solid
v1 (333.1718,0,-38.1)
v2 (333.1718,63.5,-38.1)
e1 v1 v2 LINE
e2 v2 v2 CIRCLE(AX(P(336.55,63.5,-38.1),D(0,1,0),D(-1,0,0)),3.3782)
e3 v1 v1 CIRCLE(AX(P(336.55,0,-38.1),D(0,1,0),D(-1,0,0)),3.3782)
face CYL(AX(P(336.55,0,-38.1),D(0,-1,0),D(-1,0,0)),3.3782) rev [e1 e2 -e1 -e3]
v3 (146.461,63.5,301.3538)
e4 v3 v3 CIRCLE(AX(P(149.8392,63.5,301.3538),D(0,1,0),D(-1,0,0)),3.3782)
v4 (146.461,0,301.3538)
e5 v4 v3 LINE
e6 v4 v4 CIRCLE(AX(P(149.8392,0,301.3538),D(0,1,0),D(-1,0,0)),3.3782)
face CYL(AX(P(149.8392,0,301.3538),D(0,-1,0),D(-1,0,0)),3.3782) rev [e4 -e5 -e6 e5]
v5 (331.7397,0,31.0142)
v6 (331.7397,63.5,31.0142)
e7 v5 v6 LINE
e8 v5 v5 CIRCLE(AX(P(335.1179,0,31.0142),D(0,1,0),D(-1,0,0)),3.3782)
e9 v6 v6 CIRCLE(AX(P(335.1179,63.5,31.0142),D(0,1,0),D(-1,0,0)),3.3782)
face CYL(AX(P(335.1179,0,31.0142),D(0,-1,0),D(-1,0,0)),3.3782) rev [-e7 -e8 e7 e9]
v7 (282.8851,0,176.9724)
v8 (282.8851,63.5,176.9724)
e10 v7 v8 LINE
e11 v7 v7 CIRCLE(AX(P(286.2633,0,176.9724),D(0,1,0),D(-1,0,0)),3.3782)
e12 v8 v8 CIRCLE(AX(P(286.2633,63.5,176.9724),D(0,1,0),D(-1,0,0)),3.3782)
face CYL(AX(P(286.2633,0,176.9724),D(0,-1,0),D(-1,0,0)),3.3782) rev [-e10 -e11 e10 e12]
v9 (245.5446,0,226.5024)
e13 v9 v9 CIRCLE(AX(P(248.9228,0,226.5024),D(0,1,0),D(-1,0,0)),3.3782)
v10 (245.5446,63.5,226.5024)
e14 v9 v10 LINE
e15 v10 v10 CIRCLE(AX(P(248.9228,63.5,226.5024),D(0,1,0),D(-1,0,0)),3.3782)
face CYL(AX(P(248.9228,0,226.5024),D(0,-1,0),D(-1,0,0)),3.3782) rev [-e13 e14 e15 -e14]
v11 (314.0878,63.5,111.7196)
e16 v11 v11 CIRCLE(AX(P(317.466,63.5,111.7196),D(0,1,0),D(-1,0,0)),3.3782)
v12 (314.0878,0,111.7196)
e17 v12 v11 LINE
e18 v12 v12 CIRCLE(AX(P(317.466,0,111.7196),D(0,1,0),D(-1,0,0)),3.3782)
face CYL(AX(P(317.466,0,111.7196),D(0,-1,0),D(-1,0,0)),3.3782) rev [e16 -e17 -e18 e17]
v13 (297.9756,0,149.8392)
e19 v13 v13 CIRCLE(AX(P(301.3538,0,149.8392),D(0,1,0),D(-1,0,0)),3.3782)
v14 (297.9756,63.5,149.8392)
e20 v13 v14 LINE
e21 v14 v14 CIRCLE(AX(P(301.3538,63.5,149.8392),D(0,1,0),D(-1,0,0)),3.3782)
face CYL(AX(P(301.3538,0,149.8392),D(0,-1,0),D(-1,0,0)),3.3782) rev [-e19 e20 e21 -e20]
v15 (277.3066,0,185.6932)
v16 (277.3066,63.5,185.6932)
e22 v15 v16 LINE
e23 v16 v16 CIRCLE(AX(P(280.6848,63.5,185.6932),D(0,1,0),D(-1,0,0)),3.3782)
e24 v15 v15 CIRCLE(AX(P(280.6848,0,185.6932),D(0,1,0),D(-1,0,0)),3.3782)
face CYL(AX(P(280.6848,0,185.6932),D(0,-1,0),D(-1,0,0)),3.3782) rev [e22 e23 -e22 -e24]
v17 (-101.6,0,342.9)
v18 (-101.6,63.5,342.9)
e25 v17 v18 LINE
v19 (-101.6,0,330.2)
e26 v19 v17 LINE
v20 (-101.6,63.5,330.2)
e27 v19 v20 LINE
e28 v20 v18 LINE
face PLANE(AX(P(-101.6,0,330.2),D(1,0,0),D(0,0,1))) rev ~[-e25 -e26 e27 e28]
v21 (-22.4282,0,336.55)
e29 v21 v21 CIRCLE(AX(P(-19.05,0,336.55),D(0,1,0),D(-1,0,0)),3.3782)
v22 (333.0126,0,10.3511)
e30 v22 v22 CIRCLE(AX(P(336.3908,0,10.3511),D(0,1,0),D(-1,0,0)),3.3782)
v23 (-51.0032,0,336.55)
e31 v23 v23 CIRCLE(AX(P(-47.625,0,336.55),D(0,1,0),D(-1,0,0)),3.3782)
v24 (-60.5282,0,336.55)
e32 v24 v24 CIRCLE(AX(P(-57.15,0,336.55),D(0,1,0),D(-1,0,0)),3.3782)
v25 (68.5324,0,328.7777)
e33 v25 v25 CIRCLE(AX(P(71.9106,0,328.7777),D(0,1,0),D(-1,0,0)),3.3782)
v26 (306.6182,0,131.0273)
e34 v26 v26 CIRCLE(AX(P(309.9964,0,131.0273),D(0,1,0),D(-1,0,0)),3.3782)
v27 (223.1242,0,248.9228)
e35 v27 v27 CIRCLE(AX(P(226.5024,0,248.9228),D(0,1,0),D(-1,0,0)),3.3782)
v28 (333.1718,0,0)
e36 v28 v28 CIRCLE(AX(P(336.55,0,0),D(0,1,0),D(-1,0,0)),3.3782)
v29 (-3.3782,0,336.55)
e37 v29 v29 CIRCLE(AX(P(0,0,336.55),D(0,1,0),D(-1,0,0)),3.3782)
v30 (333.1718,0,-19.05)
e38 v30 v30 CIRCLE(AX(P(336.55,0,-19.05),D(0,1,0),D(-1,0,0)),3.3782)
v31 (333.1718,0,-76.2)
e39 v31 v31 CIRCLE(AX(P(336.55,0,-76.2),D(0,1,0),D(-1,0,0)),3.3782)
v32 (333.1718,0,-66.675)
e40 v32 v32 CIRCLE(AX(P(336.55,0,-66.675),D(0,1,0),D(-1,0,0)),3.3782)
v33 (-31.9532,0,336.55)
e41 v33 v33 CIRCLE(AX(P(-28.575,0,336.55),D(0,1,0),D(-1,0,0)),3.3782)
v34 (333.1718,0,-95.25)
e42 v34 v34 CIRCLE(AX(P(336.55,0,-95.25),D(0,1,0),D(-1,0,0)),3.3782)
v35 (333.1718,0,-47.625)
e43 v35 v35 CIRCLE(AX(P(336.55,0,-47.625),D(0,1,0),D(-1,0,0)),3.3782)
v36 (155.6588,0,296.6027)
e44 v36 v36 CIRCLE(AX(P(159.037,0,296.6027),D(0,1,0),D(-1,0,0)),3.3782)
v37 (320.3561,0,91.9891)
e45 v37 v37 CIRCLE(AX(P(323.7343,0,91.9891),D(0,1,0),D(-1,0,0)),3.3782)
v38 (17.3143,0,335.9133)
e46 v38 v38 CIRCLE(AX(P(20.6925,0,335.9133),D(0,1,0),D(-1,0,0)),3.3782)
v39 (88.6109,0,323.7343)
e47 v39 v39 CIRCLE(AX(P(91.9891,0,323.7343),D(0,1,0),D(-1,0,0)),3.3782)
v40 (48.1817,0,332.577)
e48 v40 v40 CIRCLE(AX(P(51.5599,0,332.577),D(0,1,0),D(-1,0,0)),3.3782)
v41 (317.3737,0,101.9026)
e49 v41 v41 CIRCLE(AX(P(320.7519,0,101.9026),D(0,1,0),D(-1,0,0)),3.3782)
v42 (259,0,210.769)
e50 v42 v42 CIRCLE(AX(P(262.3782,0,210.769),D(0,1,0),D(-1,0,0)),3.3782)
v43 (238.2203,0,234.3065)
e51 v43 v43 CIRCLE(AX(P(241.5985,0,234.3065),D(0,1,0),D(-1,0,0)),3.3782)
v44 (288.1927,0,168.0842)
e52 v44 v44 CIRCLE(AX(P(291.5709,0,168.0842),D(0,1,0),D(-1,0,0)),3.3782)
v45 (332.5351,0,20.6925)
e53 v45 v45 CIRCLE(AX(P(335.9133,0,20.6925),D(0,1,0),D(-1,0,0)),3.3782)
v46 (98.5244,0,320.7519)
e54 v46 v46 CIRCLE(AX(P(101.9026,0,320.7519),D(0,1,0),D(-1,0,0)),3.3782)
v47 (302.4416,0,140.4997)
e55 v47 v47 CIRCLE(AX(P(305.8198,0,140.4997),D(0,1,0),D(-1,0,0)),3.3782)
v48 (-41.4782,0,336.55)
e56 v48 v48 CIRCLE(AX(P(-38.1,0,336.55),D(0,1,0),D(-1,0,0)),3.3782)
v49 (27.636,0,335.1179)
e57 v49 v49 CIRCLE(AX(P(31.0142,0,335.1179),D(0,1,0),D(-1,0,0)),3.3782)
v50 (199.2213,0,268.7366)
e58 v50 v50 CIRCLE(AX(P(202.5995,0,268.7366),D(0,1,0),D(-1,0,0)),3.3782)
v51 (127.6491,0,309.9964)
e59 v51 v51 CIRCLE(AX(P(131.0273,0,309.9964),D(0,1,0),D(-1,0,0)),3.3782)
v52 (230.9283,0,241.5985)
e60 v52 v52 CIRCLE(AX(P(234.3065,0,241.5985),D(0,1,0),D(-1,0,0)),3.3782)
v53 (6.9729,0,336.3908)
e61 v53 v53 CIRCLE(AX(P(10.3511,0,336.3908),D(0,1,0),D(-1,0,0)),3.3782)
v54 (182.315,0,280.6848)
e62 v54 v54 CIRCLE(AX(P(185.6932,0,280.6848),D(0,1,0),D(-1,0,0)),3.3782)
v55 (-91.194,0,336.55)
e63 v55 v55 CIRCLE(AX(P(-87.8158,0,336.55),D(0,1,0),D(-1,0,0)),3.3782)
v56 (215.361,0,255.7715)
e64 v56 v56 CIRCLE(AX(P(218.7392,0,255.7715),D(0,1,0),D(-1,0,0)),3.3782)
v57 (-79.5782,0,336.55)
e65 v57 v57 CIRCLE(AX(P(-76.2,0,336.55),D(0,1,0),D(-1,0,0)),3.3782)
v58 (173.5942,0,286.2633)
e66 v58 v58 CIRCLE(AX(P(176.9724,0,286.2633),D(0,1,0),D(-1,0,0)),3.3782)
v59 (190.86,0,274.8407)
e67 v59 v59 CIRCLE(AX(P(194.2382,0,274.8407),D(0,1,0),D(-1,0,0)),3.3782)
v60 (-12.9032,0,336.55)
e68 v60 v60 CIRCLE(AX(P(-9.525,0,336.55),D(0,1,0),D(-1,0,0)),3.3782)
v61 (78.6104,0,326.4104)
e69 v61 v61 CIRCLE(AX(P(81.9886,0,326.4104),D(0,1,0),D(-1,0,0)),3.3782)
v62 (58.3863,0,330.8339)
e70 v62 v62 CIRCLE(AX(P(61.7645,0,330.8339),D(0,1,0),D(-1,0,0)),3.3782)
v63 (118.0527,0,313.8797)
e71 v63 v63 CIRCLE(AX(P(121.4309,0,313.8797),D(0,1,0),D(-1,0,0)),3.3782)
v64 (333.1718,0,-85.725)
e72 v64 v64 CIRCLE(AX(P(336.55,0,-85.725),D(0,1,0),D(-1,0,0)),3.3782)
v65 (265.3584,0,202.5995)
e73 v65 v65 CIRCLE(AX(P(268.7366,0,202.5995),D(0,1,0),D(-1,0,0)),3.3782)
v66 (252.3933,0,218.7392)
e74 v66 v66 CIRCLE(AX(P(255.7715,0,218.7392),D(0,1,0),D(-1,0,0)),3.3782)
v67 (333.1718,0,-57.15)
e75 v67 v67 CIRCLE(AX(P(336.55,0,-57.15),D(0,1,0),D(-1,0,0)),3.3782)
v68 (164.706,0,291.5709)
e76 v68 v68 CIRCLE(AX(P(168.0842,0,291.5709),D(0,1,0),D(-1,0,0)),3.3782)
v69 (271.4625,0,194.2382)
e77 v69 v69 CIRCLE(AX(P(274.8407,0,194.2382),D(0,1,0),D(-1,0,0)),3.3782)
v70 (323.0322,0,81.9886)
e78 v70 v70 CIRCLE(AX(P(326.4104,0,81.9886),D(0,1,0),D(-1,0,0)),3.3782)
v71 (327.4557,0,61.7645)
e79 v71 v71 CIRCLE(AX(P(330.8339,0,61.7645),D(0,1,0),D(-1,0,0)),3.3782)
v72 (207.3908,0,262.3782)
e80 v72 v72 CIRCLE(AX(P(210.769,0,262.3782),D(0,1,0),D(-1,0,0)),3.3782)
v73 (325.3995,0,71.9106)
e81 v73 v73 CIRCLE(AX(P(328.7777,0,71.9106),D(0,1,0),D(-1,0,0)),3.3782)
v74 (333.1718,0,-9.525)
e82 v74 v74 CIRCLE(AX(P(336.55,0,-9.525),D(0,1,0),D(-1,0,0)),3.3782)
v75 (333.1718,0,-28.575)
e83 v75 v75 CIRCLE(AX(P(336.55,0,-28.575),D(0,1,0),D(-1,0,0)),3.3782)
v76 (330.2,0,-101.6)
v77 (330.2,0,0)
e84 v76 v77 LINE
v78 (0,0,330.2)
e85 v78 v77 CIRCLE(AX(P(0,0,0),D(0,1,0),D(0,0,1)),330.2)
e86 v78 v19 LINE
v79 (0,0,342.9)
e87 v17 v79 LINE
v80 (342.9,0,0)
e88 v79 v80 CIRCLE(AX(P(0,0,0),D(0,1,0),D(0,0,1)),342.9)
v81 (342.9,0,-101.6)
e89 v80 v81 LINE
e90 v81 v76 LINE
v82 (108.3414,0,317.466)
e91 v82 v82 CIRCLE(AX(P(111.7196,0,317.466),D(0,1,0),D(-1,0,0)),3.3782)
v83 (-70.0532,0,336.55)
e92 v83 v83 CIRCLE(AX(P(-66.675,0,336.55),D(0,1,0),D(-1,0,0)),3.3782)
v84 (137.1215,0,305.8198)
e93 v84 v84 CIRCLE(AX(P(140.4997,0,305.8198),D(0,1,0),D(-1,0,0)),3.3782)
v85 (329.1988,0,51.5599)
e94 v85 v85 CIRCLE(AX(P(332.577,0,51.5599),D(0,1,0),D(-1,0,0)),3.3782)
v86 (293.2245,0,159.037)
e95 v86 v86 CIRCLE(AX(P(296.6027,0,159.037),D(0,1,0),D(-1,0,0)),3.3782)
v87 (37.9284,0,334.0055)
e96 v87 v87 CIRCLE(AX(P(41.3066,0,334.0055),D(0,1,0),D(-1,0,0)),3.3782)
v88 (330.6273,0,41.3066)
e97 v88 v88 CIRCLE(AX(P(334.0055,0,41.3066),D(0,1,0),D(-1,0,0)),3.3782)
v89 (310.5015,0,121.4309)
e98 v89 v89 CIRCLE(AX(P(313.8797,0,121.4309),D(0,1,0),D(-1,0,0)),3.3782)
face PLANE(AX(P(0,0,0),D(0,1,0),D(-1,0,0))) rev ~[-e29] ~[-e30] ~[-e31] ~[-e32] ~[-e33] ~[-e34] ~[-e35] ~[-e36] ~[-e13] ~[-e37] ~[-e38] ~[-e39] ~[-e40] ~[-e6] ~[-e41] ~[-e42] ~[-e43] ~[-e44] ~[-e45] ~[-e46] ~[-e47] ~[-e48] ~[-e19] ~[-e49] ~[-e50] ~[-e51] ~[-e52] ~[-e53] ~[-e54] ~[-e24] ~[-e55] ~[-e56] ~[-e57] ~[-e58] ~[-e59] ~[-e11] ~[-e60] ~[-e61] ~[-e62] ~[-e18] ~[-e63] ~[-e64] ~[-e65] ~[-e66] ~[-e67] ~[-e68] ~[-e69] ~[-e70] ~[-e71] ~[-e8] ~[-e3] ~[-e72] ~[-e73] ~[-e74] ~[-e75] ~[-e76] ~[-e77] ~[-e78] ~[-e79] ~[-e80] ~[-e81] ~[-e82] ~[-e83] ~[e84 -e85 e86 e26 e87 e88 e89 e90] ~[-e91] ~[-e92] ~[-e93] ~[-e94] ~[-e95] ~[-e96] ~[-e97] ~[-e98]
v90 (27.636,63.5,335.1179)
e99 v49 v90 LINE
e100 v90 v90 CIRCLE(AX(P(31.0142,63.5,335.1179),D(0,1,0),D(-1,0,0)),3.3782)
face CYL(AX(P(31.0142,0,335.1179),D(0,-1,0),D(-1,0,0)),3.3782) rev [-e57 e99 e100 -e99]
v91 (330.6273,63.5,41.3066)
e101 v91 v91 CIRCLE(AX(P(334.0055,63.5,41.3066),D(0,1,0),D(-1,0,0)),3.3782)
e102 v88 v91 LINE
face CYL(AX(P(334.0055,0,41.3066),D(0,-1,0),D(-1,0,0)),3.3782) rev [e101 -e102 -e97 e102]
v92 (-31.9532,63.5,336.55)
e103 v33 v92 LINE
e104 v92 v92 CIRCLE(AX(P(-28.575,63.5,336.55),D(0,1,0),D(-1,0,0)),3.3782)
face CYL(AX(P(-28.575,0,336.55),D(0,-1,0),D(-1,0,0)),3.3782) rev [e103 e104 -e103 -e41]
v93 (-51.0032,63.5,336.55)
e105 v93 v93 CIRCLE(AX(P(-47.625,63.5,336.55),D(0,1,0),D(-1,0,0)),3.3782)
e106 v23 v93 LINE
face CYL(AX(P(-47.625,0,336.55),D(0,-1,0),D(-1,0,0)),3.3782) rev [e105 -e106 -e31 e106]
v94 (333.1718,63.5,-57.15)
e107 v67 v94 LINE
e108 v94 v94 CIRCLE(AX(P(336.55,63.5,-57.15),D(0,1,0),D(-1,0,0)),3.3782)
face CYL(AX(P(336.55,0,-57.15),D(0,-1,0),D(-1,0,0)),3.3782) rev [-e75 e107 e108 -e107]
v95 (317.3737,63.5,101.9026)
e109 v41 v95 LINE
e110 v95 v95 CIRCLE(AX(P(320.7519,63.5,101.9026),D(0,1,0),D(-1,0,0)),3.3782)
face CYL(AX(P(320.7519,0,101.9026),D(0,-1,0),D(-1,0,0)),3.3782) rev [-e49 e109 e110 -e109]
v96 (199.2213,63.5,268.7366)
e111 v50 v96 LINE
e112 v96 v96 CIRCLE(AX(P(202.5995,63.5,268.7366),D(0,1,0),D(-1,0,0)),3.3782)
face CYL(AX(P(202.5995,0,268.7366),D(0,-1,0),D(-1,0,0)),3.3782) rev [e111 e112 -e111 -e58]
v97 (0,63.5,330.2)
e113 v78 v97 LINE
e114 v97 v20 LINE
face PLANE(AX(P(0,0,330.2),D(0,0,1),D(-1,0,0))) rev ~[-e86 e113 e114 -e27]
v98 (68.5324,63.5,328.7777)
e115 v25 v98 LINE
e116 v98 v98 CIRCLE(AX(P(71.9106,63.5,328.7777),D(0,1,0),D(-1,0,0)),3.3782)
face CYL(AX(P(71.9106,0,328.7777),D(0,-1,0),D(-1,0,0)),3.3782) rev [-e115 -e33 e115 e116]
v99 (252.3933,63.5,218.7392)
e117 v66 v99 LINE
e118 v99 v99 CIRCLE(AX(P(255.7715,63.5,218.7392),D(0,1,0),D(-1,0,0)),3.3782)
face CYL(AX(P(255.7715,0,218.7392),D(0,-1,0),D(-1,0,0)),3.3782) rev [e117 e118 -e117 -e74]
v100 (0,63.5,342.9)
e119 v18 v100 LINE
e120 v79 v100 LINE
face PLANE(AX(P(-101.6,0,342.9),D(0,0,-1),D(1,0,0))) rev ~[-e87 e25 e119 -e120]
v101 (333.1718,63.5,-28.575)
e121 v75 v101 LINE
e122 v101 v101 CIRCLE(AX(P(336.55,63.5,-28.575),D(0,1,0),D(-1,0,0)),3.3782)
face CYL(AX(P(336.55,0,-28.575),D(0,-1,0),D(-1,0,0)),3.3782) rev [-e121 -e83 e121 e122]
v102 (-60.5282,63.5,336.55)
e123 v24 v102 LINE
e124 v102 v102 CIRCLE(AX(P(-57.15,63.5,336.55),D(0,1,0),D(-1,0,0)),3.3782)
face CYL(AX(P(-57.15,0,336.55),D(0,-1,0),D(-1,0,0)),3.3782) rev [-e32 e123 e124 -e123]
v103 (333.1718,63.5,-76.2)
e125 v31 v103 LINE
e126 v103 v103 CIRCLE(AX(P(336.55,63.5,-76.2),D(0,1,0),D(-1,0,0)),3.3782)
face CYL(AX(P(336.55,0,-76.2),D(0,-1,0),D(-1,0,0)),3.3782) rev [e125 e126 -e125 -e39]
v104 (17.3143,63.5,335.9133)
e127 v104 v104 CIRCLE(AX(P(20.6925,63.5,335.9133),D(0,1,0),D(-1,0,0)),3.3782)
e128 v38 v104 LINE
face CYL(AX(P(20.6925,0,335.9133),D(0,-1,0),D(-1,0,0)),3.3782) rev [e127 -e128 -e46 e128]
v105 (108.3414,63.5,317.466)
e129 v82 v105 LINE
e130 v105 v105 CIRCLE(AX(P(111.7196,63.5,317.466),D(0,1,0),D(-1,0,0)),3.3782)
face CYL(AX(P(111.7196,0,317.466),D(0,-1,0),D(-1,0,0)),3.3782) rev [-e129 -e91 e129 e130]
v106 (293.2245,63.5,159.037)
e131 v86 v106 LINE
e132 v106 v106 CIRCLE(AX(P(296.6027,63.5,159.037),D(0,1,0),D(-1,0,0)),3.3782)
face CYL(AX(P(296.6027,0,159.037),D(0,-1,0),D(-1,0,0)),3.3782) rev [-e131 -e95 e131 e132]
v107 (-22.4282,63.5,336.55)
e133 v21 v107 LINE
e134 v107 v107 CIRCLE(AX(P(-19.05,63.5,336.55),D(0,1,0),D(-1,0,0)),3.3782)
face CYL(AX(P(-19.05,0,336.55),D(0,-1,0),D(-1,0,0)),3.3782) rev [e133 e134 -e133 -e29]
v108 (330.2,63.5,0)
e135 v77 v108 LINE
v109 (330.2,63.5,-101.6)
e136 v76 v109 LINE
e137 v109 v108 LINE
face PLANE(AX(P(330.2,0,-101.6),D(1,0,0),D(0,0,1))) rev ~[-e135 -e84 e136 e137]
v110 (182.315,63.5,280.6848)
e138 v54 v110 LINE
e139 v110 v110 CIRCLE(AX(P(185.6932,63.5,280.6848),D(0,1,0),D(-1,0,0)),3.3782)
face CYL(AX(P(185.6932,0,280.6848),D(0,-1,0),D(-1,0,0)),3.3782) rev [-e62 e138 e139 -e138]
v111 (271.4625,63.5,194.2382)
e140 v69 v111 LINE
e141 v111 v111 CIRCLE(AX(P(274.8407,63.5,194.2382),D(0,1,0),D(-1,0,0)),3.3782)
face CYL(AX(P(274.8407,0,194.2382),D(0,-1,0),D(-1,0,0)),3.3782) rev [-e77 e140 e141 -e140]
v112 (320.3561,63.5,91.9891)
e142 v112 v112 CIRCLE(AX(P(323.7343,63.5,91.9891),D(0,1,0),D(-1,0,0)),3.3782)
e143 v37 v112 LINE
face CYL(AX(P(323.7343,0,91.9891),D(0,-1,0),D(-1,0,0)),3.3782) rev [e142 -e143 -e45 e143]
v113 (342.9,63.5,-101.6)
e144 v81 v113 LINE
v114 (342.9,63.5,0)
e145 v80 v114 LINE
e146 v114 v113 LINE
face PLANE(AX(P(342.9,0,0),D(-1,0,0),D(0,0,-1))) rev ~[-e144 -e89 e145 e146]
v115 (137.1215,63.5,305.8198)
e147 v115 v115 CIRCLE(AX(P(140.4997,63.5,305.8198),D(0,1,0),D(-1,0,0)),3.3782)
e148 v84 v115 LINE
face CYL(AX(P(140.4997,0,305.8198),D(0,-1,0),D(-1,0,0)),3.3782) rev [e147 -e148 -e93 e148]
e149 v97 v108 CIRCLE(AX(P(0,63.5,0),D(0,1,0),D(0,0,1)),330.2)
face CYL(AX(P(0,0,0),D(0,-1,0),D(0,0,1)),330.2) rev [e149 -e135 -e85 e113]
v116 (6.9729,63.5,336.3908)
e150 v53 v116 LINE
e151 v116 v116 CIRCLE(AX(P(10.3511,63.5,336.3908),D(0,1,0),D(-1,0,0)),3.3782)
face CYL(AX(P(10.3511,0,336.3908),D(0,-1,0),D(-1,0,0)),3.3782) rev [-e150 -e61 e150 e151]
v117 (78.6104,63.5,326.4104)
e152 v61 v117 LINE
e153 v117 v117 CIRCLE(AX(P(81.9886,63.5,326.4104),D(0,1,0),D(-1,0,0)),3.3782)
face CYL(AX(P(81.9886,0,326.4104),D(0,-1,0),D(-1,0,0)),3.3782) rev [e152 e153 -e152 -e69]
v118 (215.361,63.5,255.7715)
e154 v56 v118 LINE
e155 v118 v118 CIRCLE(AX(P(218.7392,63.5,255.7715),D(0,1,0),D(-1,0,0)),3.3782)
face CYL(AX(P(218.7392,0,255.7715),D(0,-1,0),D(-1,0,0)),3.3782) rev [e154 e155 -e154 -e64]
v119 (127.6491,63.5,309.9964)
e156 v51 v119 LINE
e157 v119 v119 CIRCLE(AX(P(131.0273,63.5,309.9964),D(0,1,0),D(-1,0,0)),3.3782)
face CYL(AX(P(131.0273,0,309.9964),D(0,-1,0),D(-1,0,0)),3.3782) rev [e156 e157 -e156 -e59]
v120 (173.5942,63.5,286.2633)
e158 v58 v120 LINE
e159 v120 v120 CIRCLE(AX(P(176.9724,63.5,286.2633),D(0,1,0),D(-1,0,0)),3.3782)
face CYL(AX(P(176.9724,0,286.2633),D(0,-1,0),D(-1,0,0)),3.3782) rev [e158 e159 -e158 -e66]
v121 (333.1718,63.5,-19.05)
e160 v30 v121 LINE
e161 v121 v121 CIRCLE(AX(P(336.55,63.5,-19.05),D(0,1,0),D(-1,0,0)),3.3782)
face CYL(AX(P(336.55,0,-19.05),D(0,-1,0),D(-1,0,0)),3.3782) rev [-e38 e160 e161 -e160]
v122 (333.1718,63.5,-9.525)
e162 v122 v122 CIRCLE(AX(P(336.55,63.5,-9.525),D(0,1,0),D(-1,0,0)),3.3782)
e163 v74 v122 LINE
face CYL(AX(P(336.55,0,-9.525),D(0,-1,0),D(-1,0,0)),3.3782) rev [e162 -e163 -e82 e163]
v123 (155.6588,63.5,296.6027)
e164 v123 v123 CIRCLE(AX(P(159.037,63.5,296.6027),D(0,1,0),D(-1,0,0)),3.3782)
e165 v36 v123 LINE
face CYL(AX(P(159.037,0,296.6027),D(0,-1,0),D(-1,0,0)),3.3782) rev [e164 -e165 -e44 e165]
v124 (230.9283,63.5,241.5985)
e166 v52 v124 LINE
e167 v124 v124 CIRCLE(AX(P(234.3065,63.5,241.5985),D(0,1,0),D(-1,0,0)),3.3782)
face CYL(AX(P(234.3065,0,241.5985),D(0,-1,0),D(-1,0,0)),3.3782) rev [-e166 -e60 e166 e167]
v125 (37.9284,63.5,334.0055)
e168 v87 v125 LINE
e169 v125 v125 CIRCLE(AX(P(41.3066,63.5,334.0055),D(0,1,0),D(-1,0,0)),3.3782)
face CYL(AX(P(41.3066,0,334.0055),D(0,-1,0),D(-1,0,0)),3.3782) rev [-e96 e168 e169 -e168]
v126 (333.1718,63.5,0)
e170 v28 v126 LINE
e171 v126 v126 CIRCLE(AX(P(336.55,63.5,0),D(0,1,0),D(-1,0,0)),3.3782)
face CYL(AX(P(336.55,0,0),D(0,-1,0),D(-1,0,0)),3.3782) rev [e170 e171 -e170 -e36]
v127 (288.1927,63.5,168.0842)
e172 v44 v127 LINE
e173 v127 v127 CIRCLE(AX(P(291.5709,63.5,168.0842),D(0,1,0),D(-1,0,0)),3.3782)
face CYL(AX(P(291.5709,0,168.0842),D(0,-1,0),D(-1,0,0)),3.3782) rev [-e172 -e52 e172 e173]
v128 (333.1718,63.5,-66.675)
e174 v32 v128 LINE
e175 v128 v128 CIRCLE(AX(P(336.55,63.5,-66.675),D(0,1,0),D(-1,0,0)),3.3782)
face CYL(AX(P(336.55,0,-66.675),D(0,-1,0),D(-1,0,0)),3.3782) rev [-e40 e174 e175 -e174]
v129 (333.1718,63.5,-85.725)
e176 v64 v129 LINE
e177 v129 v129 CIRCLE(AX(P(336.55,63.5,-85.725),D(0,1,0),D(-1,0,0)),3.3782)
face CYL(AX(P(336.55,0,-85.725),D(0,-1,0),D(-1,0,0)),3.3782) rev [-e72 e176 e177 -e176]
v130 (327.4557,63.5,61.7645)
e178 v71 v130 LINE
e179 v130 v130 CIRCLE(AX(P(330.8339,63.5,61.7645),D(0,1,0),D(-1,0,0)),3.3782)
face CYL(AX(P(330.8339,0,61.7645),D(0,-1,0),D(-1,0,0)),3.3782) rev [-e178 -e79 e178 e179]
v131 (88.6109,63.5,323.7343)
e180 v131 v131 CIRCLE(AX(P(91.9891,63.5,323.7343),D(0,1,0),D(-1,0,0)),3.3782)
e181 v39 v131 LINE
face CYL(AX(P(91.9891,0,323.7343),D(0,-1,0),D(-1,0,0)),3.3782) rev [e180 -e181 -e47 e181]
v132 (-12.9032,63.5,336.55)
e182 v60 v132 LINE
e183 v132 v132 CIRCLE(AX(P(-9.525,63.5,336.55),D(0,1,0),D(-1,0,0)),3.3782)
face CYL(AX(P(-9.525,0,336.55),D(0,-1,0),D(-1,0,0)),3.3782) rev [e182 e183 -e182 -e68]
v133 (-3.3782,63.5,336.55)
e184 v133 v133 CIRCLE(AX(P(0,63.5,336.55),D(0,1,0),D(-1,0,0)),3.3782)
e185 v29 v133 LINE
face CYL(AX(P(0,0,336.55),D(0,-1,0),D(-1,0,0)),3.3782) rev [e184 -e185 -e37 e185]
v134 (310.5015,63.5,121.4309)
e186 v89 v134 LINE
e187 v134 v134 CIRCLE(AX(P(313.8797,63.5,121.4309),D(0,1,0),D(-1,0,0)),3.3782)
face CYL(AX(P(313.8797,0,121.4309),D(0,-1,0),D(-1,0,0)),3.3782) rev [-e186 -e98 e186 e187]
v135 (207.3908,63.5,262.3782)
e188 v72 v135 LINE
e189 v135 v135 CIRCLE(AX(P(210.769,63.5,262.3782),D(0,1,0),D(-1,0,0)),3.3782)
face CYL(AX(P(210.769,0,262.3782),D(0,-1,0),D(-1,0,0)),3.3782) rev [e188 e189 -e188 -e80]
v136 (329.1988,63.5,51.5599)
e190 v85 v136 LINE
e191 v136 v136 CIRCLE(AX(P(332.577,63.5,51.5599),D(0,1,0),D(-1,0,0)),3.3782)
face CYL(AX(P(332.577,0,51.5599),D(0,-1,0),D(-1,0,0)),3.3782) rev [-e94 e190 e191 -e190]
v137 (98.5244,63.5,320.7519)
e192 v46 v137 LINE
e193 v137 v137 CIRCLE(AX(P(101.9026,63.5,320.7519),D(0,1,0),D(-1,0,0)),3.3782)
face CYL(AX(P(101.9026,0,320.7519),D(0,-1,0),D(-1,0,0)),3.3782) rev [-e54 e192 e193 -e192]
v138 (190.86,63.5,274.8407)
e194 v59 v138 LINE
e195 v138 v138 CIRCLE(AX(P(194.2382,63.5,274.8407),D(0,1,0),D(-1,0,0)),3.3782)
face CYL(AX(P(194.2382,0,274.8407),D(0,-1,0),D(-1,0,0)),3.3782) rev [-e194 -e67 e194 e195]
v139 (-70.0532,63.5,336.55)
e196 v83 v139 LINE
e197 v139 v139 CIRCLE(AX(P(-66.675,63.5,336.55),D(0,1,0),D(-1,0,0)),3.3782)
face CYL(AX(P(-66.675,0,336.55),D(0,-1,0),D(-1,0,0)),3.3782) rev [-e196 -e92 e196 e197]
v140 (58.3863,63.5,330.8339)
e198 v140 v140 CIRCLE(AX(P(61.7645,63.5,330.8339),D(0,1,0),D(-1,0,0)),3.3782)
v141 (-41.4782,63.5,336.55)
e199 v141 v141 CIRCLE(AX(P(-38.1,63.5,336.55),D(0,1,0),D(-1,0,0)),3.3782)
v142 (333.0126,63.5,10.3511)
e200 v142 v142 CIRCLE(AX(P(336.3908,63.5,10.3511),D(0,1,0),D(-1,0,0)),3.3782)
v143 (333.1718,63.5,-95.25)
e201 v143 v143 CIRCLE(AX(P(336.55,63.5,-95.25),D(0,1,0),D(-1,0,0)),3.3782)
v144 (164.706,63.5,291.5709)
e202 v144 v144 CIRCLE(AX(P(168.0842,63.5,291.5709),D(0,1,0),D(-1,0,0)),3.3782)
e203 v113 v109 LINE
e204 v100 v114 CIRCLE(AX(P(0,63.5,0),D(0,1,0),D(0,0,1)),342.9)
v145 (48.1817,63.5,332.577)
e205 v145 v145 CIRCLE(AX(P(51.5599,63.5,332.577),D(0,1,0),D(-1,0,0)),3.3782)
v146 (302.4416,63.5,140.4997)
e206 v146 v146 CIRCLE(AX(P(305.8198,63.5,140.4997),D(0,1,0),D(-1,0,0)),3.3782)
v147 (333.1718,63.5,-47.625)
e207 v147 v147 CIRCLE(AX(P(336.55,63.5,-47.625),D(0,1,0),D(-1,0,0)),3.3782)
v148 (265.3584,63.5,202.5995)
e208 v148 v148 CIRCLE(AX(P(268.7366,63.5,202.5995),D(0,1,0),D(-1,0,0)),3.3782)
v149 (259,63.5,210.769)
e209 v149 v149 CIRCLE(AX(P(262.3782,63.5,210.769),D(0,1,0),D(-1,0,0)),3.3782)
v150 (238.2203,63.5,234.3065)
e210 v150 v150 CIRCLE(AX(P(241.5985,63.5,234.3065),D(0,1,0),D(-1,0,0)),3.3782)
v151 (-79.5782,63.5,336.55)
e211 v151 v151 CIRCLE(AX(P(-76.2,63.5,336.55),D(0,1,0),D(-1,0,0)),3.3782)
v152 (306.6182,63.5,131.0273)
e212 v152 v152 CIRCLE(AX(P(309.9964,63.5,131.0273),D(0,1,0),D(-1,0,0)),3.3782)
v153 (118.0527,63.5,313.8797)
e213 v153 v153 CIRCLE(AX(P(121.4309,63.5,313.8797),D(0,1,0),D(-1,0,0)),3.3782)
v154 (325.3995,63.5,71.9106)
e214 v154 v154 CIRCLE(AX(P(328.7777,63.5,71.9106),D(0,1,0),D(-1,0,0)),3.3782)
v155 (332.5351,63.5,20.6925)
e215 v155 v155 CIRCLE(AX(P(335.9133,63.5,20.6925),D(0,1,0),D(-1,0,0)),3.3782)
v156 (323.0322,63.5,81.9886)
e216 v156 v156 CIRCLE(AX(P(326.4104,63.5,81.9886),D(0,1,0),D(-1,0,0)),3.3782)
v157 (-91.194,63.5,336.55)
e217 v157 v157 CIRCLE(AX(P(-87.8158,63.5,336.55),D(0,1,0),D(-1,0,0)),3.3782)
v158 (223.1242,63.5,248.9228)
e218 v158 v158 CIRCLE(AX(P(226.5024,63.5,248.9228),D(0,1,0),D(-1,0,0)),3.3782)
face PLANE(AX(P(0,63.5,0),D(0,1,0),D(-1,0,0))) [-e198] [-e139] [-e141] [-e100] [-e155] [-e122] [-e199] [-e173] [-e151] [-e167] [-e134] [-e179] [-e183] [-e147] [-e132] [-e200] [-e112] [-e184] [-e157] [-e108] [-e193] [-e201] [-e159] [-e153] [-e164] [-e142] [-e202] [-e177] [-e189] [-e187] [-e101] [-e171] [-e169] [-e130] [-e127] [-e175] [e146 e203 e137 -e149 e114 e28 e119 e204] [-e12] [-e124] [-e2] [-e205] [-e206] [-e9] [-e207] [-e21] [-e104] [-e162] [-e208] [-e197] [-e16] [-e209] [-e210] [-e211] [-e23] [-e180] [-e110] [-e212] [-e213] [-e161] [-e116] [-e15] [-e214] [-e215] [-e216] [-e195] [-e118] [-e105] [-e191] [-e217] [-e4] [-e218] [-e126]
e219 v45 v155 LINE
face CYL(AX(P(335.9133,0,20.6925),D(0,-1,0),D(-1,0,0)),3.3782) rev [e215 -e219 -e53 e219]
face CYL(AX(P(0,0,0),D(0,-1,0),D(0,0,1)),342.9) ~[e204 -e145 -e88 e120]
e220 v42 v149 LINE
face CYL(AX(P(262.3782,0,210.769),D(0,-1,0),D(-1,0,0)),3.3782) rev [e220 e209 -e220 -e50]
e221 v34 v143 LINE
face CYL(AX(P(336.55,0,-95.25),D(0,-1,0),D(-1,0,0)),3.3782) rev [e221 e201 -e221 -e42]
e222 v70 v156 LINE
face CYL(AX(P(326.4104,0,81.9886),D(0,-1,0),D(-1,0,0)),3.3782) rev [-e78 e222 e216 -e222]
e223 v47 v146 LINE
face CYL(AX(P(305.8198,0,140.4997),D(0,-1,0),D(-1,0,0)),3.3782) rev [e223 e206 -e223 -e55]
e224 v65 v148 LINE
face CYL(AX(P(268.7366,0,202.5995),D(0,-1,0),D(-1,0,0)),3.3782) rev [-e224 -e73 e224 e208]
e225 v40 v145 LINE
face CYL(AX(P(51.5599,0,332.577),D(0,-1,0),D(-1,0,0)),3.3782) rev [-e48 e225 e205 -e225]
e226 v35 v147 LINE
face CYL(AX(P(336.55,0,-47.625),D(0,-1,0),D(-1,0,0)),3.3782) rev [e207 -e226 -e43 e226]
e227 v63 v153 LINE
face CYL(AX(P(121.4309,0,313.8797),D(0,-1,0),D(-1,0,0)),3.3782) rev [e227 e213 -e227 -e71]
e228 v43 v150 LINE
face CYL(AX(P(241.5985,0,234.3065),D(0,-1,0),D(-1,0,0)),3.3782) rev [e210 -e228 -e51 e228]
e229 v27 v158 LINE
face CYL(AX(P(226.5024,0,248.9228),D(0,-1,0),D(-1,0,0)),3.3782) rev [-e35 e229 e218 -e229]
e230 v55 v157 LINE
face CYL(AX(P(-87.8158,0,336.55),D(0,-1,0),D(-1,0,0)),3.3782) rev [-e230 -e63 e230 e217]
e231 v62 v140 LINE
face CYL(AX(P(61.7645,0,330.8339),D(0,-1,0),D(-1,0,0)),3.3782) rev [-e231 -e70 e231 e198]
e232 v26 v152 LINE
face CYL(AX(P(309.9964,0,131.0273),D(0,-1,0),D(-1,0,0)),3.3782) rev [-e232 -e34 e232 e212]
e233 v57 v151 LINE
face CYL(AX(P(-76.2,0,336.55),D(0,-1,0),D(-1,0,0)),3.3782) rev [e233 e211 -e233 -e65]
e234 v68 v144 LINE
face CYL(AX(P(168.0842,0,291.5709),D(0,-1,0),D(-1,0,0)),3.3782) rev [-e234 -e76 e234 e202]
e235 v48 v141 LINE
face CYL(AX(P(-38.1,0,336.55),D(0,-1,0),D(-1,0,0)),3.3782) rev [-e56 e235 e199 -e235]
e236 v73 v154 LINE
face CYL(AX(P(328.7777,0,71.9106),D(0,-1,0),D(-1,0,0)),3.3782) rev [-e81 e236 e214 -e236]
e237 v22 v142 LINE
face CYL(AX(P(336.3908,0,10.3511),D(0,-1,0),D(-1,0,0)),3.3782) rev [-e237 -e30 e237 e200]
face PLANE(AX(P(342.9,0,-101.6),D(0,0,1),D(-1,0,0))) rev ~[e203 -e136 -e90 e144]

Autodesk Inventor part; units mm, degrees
ref_plane "YZ Plane" through (0, 0, 0) normal (1, 0, 0) x (0, 1, 0)
ref_plane "XZ Plane" through (0, 0, 0) normal (0, 1, 0) x (-1, 0, 0)
ref_plane "XY Plane" through (0, 0, 0) normal (0, 0, 1) x (1, 0, 0)
sketch "Sketch1" plane through (0, 0, 0) normal (0, 1, 0) x (-1, 0, 0)
  circle A0 centre (-336.55, 0) radius 3.3782
  circle A1 centre (-234.3065, 241.5985) radius 3.3782
  circle A2 centre (-241.5985, 234.3065) radius 3.3782
  circle A3 centre (87.8158, 336.55) radius 3.3782
  circle A4 centre (0, 336.55) radius 3.3782
  arc A5 (0, 342.9) -> (-342.9, 0) centre (0, 0) ccw
  arc A6 (0, 330.2) -> (-330.2, 0) centre (0, 0) ccw
  line L0 (-342.9, 0) -> (-342.9, -101.6)
  line L1 (-342.9, -101.6) -> (-330.2, -101.6)
  line L2 (-330.2, -101.6) -> (-330.2, 0)
  circle A7 centre (-336.55, -9.525) radius 3.3782
  circle A8 centre (-336.55, -19.05) radius 3.3782
  circle A9 centre (-336.55, -28.575) radius 3.3782
  circle A10 centre (-336.55, -38.1) radius 3.3782
  circle A11 centre (-336.55, -47.625) radius 3.3782
  circle A12 centre (-336.55, -57.15) radius 3.3782
  circle A13 centre (-336.55, -66.675) radius 3.3782
  circle A14 centre (-336.55, -76.2) radius 3.3782
  circle A15 centre (-336.55, -85.725) radius 3.3782
  circle A16 centre (-336.55, -95.25) radius 3.3782
  line L3 (0, 330.2) -> (101.6, 330.2)
  line L4 (101.6, 330.2) -> (101.6, 342.9)
  line L5 (101.6, 342.9) -> (0, 342.9)
  circle A17 centre (-10.3511, 336.3908) radius 3.3782
  circle A18 centre (-20.6925, 335.9133) radius 3.3782
  circle A19 centre (-31.0142, 335.1179) radius 3.3782
  circle A20 centre (-41.3066, 334.0055) radius 3.3782
  circle A21 centre (-51.5599, 332.577) radius 3.3782
  circle A22 centre (-61.7645, 330.8339) radius 3.3782
  circle A23 centre (-71.9106, 328.7777) radius 3.3782
  circle A24 centre (-81.9886, 326.4104) radius 3.3782
  circle A25 centre (-91.9891, 323.7343) radius 3.3782
  circle A26 centre (-101.9026, 320.7519) radius 3.3782
  circle A27 centre (-111.7196, 317.466) radius 3.3782
  circle A28 centre (-121.4309, 313.8797) radius 3.3782
  circle A29 centre (-131.0273, 309.9964) radius 3.3782
  circle A30 centre (-140.4997, 305.8198) radius 3.3782
  circle A31 centre (-149.8392, 301.3538) radius 3.3782
  circle A32 centre (-159.037, 296.6027) radius 3.3782
  circle A33 centre (-168.0842, 291.5709) radius 3.3782
  circle A34 centre (-176.9724, 286.2633) radius 3.3782
  circle A35 centre (-185.6932, 280.6848) radius 3.3782
  circle A36 centre (-194.2382, 274.8407) radius 3.3782
  circle A37 centre (-202.5995, 268.7366) radius 3.3782
  circle A38 centre (-210.769, 262.3782) radius 3.3782
  circle A39 centre (-218.7392, 255.7715) radius 3.3782
  circle A40 centre (-226.5024, 248.9228) radius 3.3782
  circle A41 centre (-336.3908, 10.3511) radius 3.3782
  circle A42 centre (-335.9133, 20.6925) radius 3.3782
  circle A43 centre (-335.1179, 31.0142) radius 3.3782
  circle A44 centre (-334.0055, 41.3066) radius 3.3782
  circle A45 centre (-332.577, 51.5599) radius 3.3782
  circle A46 centre (-330.8339, 61.7645) radius 3.3782
  circle A47 centre (-328.7777, 71.9106) radius 3.3782
  circle A48 centre (-326.4104, 81.9886) radius 3.3782
  circle A49 centre (-323.7343, 91.9891) radius 3.3782
  circle A50 centre (-320.7519, 101.9026) radius 3.3782
  circle A51 centre (-317.466, 111.7196) radius 3.3782
  circle A52 centre (-313.8797, 121.4309) radius 3.3782
  circle A53 centre (-309.9964, 131.0273) radius 3.3782
  circle A54 centre (-305.8198, 140.4997) radius 3.3782
  circle A55 centre (-301.3538, 149.8392) radius 3.3782
  circle A56 centre (-296.6027, 159.037) radius 3.3782
  circle A57 centre (-291.5709, 168.0842) radius 3.3782
  circle A58 centre (-286.2633, 176.9724) radius 3.3782
  circle A59 centre (-280.6848, 185.6932) radius 3.3782
  circle A60 centre (-274.8407, 194.2382) radius 3.3782
  circle A61 centre (-268.7366, 202.5995) radius 3.3782
  circle A62 centre (-262.3782, 210.769) radius 3.3782
  circle A63 centre (-255.7715, 218.7392) radius 3.3782
  circle A64 centre (-248.9228, 226.5024) radius 3.3782
  circle A65 centre (9.525, 336.55) radius 3.3782
  circle A66 centre (19.05, 336.55) radius 3.3782
  circle A67 centre (28.575, 336.55) radius 3.3782
  circle A68 centre (38.1, 336.55) radius 3.3782
  circle A69 centre (47.625, 336.55) radius 3.3782
  circle A70 centre (57.15, 336.55) radius 3.3782
  circle A71 centre (66.675, 336.55) radius 3.3782
  circle A72 centre (76.2, 336.55) radius 3.3782
  line L6 (0, 325.5916) -> (0, 330.2)
  line L7 (0, 342.9) -> (0, 348.9307)
  dimension "d2" = 101.6
  dimension "d5" = 9.525
  dimension "d10" = 101.6
  dimension "d13" = 42.3
  dimension "d17" = 42.3
  dimension "d21" = 9.525
extrude "Extrusion1" add sketch "Sketch1" along normal blind 63.5
properties part number "Runner Rails 6 v1" material "Polycarbonate, Clear"
